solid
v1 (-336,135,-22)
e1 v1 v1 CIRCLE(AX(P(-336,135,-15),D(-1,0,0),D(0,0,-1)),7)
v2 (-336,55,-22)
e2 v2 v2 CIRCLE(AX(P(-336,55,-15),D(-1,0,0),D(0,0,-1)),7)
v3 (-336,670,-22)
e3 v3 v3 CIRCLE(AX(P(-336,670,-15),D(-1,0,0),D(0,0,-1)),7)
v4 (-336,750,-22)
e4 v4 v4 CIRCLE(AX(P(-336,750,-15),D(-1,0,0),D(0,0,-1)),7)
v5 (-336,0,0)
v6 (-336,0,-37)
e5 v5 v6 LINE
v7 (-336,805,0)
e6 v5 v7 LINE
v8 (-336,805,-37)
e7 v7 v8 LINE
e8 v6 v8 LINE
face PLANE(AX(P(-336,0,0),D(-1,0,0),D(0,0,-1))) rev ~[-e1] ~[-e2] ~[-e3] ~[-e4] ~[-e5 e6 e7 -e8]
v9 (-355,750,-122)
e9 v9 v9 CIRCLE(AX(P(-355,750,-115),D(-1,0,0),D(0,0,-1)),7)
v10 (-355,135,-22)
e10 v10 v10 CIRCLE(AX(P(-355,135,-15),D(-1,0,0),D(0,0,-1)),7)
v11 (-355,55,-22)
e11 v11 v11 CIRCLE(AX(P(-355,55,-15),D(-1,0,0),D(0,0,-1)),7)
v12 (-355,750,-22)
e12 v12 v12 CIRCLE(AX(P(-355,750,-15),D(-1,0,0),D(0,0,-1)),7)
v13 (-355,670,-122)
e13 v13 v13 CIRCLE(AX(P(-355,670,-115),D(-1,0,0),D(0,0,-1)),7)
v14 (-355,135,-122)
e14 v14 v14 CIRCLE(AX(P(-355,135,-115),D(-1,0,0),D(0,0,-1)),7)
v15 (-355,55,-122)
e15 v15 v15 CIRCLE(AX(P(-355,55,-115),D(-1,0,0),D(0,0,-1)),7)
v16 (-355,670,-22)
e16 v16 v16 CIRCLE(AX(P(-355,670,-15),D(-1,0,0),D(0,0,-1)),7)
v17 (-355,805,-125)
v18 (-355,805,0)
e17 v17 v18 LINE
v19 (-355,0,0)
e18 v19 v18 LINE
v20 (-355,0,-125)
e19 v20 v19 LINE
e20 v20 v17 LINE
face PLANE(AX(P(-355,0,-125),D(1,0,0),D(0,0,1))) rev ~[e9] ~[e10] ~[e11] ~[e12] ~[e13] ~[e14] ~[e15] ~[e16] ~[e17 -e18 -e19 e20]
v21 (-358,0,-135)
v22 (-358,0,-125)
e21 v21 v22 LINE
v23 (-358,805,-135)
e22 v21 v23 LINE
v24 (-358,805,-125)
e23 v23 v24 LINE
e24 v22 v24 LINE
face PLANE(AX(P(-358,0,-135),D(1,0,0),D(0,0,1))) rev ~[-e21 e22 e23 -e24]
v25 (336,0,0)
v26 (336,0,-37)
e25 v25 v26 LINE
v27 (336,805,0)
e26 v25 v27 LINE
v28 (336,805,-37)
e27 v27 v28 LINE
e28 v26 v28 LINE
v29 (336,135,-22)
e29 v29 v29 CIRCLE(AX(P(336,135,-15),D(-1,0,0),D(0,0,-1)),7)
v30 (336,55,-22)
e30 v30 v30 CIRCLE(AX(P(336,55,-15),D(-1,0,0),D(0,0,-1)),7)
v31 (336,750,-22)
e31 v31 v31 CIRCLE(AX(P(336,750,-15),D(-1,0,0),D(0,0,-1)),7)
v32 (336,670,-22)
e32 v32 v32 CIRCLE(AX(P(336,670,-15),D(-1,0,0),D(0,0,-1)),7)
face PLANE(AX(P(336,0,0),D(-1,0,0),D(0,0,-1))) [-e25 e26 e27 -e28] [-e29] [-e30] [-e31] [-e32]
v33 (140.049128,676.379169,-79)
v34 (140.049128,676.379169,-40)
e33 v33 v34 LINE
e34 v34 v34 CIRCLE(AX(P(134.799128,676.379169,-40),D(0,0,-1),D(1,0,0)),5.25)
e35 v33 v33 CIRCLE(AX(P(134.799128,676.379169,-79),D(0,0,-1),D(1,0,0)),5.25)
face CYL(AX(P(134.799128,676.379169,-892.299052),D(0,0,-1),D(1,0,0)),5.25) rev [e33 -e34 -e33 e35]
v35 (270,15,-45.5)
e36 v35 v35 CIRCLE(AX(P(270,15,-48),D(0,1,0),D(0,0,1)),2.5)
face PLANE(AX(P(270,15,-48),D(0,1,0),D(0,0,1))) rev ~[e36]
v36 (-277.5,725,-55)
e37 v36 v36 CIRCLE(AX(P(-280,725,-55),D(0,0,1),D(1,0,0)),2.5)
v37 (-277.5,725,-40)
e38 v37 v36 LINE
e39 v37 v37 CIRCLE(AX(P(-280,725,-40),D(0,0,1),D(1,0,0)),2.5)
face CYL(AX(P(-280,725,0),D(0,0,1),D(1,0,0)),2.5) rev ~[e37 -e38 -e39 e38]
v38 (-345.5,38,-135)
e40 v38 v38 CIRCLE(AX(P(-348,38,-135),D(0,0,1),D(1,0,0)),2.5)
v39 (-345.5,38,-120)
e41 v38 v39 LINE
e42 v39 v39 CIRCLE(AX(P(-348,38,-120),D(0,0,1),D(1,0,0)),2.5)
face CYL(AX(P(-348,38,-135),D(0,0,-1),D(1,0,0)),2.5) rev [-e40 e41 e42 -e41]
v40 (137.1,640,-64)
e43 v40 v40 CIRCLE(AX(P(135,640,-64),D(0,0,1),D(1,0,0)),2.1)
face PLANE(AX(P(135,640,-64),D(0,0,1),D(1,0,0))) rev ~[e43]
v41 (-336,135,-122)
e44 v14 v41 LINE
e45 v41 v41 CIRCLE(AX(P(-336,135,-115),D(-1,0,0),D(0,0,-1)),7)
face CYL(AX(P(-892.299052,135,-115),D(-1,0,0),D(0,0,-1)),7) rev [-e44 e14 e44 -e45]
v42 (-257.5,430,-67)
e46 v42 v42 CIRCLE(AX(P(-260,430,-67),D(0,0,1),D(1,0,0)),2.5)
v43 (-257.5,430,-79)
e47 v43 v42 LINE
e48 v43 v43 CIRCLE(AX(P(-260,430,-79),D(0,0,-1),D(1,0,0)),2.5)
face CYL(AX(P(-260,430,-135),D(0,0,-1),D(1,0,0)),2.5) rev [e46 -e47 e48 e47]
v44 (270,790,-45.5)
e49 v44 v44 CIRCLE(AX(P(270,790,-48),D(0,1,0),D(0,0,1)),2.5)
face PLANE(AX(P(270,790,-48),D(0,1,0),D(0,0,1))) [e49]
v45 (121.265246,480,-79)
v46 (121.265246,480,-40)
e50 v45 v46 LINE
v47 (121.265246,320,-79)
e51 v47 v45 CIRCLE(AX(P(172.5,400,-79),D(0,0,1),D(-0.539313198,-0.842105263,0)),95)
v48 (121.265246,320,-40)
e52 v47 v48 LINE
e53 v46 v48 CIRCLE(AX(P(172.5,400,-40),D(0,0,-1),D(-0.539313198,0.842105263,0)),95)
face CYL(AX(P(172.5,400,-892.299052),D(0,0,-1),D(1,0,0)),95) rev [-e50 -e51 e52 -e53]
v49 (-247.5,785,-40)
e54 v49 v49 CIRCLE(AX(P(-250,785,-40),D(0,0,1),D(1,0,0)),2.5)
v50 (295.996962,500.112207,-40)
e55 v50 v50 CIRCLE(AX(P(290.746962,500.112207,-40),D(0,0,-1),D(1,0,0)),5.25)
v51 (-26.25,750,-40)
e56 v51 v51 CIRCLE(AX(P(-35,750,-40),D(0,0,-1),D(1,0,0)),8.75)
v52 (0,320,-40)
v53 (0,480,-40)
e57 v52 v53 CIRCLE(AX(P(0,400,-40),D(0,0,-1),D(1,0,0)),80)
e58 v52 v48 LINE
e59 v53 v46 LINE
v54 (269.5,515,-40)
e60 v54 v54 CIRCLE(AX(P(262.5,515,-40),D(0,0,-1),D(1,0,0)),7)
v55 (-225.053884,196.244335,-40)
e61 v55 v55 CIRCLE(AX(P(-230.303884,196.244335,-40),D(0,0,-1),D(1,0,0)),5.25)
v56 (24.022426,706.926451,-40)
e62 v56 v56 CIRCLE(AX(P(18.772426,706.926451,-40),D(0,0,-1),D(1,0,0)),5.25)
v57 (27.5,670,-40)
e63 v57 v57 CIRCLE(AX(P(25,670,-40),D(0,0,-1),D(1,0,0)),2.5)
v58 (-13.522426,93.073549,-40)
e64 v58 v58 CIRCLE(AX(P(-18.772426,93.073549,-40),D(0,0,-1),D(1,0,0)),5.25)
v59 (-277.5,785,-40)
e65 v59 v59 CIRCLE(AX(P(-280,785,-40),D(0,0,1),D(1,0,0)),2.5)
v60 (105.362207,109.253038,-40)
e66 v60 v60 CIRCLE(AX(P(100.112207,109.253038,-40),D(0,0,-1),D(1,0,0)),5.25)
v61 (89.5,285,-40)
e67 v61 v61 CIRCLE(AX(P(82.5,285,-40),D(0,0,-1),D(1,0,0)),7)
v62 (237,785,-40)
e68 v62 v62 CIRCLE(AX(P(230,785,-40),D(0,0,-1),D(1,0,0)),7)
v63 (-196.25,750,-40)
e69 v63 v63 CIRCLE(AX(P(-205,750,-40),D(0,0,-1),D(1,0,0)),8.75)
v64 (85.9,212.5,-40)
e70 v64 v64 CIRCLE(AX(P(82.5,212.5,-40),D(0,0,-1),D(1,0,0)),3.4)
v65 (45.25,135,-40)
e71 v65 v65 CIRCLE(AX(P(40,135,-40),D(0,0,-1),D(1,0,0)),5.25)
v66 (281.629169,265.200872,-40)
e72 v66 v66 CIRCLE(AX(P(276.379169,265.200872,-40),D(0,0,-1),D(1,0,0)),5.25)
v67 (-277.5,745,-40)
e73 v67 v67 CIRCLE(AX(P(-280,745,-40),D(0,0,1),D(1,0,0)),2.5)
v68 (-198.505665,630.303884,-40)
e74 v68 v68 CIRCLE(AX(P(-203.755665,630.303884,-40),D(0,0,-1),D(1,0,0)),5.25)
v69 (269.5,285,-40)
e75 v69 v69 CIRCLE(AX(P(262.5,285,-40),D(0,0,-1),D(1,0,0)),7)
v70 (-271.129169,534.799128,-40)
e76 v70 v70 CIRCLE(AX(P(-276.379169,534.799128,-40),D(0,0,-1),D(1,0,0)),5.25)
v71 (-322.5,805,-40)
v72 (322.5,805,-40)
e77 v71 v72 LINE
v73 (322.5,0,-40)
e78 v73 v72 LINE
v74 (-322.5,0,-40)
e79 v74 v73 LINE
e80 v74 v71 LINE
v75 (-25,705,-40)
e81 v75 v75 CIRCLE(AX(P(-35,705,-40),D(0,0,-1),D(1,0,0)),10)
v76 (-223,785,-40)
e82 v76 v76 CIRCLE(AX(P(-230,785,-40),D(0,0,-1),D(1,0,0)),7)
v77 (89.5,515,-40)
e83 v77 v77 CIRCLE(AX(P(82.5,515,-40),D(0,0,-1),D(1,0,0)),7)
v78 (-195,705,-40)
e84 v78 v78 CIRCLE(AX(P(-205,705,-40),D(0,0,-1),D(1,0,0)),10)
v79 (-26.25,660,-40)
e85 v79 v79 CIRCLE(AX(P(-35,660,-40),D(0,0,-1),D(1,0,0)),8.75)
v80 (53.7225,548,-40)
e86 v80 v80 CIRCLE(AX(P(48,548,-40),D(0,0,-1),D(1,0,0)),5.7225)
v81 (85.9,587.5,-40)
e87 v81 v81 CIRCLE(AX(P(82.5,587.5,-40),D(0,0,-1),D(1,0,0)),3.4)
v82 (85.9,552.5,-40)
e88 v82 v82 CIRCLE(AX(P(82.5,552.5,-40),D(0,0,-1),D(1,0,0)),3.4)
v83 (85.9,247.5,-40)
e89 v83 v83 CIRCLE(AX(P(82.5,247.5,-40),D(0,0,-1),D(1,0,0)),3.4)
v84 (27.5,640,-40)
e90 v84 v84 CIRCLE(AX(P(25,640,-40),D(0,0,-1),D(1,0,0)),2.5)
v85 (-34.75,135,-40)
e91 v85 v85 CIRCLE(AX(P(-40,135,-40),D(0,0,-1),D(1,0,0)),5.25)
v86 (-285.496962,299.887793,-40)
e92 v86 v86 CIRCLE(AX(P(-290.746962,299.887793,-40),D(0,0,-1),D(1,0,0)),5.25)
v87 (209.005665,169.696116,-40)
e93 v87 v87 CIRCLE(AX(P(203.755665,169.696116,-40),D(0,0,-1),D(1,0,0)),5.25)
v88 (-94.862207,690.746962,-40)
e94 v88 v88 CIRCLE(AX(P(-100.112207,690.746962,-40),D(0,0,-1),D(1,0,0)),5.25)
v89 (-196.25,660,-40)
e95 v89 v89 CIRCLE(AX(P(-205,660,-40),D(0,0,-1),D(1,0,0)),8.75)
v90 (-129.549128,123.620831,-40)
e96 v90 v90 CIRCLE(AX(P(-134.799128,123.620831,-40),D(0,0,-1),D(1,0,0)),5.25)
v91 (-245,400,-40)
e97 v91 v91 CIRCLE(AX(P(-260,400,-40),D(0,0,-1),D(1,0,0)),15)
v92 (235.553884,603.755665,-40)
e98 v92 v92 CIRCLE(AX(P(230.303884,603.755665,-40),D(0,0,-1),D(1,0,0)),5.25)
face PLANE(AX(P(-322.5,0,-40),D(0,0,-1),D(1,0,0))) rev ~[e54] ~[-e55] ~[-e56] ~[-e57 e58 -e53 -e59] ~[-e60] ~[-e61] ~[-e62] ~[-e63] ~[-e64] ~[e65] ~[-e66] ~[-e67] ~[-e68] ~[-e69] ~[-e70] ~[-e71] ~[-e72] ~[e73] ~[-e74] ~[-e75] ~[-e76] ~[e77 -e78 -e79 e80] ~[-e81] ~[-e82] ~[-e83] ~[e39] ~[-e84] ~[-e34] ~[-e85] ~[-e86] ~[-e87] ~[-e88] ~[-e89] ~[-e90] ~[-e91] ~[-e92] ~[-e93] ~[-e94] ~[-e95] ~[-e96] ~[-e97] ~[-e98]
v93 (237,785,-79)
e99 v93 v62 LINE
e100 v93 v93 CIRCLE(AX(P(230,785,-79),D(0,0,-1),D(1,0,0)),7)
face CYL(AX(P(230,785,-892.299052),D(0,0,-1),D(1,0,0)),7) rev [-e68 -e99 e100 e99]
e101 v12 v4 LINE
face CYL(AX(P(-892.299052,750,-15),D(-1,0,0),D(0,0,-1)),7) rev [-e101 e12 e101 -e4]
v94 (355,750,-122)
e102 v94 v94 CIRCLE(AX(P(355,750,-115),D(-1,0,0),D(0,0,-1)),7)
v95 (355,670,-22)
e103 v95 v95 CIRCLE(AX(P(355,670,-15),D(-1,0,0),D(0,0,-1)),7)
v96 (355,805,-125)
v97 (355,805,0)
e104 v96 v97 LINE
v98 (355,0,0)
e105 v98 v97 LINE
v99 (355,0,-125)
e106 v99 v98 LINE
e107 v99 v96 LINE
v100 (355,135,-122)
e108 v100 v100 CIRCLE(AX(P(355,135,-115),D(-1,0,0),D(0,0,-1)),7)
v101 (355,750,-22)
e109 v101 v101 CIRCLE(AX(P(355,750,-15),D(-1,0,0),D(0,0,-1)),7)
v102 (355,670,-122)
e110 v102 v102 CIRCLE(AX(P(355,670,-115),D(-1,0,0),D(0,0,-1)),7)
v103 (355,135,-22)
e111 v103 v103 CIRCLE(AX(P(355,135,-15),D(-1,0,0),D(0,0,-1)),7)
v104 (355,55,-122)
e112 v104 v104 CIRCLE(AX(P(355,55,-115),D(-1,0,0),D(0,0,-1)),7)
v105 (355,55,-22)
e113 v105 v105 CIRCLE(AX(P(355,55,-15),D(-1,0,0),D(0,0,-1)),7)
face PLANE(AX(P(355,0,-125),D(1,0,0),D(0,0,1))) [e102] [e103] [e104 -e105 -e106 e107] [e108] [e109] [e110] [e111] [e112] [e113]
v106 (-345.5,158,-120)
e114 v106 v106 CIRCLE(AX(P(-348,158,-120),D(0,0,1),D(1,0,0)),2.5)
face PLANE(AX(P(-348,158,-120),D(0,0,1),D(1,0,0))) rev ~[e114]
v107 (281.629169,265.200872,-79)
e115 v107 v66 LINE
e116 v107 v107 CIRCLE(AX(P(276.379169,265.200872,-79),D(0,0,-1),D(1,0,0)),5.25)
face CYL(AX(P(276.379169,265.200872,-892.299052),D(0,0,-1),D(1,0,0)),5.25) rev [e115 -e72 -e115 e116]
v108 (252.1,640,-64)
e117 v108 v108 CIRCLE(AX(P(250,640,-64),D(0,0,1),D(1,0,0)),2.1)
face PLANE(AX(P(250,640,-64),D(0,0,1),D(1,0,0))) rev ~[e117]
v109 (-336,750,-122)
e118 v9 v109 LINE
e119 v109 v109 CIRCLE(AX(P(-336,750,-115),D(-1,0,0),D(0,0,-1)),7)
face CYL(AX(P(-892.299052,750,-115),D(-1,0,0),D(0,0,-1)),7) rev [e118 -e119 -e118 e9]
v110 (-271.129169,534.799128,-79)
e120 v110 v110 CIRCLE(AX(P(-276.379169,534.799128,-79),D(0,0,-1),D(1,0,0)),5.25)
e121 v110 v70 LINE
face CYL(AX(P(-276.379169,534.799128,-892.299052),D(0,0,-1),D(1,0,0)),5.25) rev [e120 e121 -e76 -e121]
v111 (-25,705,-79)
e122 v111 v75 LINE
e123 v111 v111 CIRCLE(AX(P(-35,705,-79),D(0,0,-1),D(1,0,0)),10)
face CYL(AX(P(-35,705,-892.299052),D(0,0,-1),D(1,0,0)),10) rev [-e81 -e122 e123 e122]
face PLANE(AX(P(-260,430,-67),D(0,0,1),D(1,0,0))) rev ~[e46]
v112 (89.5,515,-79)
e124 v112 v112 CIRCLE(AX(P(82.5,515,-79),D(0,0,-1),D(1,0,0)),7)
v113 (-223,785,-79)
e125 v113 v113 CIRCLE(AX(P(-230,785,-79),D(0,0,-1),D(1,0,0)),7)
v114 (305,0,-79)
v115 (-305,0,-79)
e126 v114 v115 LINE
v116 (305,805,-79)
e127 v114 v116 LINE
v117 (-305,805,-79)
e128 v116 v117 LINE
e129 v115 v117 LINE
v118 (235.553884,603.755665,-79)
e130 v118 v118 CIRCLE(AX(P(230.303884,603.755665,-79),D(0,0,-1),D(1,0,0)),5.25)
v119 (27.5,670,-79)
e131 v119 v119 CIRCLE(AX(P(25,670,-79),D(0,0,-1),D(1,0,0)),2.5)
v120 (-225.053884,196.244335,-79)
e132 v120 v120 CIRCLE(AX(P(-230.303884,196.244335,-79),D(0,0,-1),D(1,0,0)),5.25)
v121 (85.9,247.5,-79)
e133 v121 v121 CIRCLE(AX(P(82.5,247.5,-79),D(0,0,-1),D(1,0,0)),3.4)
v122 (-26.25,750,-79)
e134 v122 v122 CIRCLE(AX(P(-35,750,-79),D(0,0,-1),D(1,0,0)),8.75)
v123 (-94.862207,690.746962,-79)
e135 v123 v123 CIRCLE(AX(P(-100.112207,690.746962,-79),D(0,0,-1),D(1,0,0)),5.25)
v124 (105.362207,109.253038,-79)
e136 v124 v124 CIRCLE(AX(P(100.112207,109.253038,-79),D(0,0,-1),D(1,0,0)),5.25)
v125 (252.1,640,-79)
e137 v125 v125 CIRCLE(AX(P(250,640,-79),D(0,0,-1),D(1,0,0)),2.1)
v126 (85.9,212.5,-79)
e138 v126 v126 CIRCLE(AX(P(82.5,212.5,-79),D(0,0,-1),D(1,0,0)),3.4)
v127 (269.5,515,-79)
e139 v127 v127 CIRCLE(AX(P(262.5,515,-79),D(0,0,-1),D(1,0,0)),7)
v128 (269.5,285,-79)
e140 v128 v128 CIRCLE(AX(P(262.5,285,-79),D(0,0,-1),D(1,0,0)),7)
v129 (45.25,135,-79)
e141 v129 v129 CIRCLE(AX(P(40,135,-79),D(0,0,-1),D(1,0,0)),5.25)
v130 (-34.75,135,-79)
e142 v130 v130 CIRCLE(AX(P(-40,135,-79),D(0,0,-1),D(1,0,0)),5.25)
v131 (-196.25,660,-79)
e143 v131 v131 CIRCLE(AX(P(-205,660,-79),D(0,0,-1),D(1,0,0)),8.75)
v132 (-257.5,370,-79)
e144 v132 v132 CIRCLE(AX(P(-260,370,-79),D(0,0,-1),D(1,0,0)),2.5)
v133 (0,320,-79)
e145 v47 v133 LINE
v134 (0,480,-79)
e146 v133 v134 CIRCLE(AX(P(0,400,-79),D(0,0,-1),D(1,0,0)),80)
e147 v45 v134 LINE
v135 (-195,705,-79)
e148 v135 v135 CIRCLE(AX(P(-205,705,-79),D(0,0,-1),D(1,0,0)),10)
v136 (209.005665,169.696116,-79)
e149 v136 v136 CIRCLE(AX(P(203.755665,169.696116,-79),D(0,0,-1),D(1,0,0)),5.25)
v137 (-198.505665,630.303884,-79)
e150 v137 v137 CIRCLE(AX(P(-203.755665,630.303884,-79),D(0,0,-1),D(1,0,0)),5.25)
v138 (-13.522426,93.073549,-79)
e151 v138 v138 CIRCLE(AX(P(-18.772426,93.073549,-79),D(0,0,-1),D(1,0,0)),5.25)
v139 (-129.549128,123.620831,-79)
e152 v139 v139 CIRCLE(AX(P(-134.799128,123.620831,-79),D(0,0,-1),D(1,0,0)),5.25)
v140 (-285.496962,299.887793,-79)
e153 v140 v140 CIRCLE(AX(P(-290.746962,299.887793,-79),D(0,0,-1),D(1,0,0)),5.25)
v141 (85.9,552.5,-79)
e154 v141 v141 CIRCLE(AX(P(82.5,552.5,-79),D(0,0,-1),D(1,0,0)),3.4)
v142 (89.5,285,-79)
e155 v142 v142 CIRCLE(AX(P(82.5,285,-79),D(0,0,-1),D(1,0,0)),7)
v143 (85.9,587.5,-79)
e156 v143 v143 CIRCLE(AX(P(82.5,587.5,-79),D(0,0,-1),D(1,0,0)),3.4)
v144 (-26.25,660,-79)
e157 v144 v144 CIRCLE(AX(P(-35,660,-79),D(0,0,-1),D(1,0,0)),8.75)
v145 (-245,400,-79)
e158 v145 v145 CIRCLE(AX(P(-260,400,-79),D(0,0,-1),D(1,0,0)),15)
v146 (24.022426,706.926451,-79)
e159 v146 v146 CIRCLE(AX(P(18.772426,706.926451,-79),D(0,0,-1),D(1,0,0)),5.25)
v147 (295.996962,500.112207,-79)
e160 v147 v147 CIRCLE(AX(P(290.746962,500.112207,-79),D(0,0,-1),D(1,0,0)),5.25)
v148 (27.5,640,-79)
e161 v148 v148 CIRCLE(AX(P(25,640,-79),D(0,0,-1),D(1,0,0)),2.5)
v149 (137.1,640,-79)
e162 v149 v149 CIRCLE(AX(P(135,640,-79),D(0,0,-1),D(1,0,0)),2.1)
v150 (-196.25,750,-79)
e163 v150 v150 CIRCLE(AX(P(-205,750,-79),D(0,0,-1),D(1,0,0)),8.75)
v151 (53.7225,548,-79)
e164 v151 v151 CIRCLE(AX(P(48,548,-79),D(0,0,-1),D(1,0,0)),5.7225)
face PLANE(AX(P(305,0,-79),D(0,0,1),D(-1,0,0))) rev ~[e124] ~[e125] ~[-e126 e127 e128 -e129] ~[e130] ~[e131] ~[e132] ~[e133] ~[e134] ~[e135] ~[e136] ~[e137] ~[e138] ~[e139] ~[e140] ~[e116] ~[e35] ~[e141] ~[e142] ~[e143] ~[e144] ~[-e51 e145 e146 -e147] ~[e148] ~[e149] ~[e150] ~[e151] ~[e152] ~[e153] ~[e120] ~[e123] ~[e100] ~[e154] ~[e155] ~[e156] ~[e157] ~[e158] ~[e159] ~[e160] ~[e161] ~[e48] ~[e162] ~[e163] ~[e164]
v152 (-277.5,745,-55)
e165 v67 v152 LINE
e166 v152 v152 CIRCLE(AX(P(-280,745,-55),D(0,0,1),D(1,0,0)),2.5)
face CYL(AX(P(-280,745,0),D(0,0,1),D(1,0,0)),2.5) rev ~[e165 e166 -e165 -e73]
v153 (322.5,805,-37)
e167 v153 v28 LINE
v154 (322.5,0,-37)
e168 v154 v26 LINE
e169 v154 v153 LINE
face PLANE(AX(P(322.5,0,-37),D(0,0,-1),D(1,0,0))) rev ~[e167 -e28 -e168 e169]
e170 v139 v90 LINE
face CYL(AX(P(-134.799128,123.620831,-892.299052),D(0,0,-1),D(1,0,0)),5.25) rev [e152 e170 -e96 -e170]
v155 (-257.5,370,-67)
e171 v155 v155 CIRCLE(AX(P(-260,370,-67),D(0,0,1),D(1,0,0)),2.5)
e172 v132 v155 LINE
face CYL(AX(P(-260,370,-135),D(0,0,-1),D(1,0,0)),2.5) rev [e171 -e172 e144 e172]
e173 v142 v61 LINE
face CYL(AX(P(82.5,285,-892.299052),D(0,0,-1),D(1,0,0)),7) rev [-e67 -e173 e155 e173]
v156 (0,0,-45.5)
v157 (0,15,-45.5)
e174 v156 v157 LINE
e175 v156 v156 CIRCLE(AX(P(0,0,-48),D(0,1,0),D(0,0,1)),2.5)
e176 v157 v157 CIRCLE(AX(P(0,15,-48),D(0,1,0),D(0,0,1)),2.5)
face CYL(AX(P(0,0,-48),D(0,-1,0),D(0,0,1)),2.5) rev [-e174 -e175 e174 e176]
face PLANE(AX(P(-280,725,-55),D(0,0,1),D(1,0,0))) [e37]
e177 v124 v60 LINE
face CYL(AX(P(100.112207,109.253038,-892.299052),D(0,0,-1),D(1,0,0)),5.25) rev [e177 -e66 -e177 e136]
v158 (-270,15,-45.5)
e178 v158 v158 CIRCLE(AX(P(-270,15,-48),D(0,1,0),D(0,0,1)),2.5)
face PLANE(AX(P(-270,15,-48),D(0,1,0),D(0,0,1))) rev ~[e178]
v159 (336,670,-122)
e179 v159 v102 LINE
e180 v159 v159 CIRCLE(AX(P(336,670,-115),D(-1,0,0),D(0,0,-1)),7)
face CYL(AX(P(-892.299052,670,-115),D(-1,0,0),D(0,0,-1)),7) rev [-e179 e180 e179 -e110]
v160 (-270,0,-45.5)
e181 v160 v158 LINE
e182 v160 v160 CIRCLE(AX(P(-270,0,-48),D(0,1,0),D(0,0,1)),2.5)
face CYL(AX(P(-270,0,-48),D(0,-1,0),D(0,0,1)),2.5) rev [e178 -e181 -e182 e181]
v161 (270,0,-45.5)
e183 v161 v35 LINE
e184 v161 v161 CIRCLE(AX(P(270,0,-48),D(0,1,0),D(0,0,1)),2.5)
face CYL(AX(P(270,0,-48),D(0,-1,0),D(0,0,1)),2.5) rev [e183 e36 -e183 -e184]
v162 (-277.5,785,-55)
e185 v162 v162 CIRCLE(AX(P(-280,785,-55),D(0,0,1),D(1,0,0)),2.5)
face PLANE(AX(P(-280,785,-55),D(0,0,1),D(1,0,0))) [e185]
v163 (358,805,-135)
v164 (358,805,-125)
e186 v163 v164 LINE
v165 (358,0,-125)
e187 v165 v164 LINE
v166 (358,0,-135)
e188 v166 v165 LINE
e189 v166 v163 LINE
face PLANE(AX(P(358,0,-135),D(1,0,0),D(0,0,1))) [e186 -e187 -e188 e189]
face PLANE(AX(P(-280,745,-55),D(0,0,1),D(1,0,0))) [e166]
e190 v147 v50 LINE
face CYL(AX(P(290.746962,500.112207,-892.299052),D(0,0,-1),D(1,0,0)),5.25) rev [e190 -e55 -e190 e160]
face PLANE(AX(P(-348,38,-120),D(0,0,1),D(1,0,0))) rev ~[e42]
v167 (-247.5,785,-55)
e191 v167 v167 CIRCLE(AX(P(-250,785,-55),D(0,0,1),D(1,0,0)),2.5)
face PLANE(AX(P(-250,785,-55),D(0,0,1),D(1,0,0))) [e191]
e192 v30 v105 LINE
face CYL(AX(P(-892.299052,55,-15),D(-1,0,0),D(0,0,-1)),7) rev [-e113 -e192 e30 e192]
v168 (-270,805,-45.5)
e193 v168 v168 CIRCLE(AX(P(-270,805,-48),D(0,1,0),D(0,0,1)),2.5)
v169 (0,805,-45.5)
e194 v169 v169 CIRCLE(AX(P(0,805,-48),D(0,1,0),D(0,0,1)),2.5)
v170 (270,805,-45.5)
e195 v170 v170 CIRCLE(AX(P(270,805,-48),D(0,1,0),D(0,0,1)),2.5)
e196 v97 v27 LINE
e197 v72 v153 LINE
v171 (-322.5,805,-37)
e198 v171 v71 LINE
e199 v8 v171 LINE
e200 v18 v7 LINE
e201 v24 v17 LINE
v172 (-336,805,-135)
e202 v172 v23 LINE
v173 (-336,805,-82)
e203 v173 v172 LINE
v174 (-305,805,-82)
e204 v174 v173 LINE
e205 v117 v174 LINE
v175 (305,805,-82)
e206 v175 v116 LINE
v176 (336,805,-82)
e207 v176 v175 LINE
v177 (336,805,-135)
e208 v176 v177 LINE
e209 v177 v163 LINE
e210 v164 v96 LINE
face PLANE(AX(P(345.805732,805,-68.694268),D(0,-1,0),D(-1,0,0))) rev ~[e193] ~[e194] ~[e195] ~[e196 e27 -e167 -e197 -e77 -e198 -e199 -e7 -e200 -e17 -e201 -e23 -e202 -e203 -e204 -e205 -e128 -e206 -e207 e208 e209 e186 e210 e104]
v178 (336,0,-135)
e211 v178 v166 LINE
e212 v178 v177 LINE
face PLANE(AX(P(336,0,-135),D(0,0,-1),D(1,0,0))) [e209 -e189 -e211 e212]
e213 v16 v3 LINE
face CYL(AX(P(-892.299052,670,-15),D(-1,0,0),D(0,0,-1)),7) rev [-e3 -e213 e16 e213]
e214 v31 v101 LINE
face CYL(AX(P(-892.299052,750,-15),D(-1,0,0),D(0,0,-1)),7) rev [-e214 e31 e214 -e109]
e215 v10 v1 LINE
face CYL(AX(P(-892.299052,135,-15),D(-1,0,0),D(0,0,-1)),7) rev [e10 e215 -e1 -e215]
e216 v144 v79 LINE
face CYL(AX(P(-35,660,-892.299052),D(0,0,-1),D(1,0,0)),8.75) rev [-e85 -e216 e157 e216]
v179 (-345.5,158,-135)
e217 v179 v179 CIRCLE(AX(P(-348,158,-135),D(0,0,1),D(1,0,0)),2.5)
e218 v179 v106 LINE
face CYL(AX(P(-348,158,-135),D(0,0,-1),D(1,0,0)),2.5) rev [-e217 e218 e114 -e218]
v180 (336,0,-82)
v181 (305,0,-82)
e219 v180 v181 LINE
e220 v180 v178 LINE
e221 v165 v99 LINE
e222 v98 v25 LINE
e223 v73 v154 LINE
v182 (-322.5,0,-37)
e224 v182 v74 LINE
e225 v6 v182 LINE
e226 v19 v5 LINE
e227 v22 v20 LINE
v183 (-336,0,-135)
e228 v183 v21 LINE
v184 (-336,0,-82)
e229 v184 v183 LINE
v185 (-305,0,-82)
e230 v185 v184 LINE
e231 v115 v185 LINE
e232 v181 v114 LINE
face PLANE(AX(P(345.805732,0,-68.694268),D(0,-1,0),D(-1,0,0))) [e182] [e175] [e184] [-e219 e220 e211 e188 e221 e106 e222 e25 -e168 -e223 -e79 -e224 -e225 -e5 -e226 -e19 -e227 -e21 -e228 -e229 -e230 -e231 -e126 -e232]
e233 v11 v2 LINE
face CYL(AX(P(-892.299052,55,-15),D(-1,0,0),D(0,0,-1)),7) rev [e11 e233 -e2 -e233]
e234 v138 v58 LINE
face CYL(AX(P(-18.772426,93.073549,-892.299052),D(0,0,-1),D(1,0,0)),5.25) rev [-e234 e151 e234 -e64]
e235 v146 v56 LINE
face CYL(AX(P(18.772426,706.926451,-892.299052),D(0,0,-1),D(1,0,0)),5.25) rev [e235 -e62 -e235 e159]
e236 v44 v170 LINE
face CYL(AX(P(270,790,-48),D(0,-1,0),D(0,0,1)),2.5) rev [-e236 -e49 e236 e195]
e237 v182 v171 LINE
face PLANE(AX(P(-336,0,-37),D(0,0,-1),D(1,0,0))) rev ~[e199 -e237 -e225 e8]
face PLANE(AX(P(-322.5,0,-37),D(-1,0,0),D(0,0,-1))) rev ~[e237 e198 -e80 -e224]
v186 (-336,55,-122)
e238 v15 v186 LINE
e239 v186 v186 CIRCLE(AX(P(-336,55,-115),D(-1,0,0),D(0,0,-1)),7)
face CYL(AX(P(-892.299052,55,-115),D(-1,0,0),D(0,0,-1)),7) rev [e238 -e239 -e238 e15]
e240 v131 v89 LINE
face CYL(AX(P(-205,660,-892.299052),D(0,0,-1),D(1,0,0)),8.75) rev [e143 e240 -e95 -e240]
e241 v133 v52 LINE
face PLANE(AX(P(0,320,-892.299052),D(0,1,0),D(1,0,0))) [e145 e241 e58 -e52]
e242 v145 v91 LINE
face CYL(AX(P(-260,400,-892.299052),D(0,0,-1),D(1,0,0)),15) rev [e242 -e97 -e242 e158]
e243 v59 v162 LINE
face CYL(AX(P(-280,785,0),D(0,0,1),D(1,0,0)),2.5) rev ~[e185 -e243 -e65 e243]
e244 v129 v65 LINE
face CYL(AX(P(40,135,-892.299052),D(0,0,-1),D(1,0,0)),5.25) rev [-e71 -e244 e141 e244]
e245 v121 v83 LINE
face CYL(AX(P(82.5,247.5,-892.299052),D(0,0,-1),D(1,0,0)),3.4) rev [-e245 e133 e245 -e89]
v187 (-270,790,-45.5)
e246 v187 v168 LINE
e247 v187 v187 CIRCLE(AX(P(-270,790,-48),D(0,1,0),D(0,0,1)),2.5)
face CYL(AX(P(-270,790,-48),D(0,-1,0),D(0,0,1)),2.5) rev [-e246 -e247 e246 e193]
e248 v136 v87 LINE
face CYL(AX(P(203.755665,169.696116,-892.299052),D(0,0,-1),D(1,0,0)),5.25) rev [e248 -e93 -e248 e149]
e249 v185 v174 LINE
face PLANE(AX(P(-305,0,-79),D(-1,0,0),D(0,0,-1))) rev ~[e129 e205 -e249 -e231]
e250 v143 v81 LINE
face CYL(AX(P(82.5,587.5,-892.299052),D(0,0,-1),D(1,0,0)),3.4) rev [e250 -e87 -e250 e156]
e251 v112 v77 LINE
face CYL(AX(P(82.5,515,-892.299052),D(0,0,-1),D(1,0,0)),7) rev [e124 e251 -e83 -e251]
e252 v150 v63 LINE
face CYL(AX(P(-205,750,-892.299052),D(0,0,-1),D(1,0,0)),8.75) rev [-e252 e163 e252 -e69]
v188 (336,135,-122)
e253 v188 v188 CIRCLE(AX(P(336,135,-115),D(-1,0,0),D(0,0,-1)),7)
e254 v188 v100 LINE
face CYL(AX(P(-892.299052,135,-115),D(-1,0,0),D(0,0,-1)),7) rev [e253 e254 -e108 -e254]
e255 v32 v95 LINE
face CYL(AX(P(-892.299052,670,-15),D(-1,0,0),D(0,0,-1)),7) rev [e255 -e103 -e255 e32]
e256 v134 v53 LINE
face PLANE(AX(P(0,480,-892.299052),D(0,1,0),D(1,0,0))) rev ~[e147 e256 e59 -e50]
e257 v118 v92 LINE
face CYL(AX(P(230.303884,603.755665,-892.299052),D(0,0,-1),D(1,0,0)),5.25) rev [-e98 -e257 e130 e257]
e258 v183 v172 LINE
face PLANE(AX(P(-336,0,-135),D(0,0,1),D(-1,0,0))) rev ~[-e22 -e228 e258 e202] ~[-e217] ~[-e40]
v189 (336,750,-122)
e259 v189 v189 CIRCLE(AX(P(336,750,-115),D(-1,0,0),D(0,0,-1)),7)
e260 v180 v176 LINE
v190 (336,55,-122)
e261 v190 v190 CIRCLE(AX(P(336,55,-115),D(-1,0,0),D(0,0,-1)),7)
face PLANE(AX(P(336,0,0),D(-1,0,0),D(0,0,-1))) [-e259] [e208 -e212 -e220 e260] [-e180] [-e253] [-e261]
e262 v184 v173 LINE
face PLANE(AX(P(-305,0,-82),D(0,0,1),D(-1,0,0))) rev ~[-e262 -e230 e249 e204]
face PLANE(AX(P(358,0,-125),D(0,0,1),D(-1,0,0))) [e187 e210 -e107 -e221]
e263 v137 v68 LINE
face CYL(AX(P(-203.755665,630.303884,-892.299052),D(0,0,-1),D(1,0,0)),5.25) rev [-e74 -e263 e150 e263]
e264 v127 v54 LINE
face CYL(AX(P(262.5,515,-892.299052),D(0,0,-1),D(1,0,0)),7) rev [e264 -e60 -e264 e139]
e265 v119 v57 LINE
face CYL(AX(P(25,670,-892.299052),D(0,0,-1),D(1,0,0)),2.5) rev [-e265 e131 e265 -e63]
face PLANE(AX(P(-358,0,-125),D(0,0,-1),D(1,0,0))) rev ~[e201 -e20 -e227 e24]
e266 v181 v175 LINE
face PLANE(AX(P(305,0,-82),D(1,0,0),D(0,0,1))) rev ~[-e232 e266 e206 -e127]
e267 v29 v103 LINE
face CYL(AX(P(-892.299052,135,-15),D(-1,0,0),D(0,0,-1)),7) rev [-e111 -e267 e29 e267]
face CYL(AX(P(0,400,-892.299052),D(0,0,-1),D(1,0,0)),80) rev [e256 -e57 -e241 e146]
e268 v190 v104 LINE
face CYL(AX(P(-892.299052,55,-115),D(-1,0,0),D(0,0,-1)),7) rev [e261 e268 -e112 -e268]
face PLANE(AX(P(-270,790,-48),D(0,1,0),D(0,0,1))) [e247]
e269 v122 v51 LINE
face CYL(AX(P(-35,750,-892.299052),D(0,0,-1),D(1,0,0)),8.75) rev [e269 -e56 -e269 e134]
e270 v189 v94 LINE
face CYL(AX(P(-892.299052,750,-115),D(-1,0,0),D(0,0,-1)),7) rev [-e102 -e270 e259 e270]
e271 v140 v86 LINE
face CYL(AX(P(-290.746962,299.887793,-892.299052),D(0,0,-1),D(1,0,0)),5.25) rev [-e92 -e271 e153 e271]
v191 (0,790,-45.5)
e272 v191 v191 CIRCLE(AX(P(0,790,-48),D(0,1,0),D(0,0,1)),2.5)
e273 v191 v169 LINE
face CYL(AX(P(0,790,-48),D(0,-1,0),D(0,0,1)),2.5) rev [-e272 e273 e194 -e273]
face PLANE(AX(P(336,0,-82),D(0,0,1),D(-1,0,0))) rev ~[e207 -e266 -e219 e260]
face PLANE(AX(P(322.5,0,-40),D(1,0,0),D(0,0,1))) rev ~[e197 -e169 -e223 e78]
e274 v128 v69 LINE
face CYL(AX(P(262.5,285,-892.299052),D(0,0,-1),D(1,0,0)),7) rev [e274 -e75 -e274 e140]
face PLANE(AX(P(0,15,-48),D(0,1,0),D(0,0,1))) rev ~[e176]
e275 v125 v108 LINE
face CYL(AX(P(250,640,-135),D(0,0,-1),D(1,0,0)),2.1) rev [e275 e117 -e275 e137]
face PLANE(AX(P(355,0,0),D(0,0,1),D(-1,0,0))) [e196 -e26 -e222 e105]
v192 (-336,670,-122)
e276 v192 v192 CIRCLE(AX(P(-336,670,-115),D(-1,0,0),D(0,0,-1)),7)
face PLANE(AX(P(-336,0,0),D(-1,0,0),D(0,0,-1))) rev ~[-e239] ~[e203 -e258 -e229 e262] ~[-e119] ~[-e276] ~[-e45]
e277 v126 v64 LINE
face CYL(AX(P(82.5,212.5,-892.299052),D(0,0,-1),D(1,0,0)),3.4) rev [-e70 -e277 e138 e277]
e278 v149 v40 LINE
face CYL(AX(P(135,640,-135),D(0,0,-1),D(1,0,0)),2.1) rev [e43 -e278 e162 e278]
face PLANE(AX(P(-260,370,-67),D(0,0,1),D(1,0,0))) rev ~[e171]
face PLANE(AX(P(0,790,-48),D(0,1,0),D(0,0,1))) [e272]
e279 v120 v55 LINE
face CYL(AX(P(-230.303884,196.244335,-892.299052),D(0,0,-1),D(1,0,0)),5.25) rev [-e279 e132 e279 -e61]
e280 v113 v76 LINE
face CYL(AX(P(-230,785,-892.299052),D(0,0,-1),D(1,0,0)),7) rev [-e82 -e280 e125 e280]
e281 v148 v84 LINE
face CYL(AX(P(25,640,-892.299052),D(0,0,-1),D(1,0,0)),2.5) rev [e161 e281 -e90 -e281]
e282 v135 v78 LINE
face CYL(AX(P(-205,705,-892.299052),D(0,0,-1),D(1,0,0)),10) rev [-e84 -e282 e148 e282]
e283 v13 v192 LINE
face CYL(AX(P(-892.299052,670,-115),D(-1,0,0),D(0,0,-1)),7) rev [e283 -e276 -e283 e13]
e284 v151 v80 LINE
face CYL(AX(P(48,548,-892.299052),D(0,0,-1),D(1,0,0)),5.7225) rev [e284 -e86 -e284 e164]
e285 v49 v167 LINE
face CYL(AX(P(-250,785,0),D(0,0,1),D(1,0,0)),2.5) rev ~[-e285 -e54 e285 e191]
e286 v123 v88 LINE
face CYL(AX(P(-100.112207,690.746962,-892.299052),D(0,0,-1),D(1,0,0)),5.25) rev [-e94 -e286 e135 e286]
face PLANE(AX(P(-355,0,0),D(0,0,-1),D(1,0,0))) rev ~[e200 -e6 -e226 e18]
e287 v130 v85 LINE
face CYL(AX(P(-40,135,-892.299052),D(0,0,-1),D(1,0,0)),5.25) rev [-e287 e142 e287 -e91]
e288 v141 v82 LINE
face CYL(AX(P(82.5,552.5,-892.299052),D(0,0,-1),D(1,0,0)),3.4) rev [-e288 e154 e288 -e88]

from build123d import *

# Parameters (mm, degrees)
EXTRUDE_1_DEPTH           = 805
EXTRUDE_2_DEPTH           = 805
EXTRUDE_3_DEPTH           = 805
CUT_EXTRUDE_1_DEPTH       = 892.299051946
CUT_EXTRUDE_1_DEPTH_BACK  = 892.299051946
SKETCH_4_W                = 121.26524617
SKETCH_4_H                = 160
CUT_EXTRUDE_2_DEPTH       = 892.299051946
CUT_EXTRUDE_2_DEPTH_BACK  = 892.299051946
SKETCH_5_R                = 80
CUT_EXTRUDE_3_DEPTH       = 892.299051946
CUT_EXTRUDE_3_DEPTH_BACK  = 892.299051946
SKETCH_6_R                = 95
CUT_EXTRUDE_4_DEPTH       = 892.299051946
CUT_EXTRUDE_4_DEPTH_BACK  = 892.299051946
SKETCH_7_R                = 15
CUT_EXTRUDE_5_DEPTH       = 892.299051946
CUT_EXTRUDE_5_DEPTH_BACK  = 892.299051946
SKETCH_8_R                = 5.25
CUT_EXTRUDE_6_DEPTH       = 892.299051946
CUT_EXTRUDE_6_DEPTH_BACK  = 892.299051946
SKETCH_9_R                = 8.75
CUT_EXTRUDE_7_DEPTH       = 892.299051946
CUT_EXTRUDE_7_DEPTH_BACK  = 892.299051946
SKETCH_10_R               = 10
CUT_EXTRUDE_8_DEPTH       = 892.299051946
CUT_EXTRUDE_8_DEPTH_BACK  = 892.299051946
SKETCH_11_R               = 7
CUT_EXTRUDE_9_DEPTH       = 892.299051946
CUT_EXTRUDE_9_DEPTH_BACK  = 892.299051946
SKETCH_12_R               = 3.4
CUT_EXTRUDE_10_DEPTH      = 892.299051946
CUT_EXTRUDE_10_DEPTH_BACK = 892.299051946
SKETCH_13_R               = 5.25
CUT_EXTRUDE_11_DEPTH      = 892.299051946
CUT_EXTRUDE_11_DEPTH_BACK = 892.299051946
SKETCH_14_R               = 2.5
CUT_EXTRUDE_12_DEPTH      = 892.299051946
CUT_EXTRUDE_12_DEPTH_BACK = 892.299051946
SKETCH_15_R               = 5.7225
CUT_EXTRUDE_13_DEPTH      = 892.299051946
CUT_EXTRUDE_13_DEPTH_BACK = 892.299051946
SKETCH_16_R               = 7
CUT_EXTRUDE_14_DEPTH      = 892.299051946
CUT_EXTRUDE_14_DEPTH_BACK = 892.299051946
SKETCH_17_R               = 7
SKETCH_19_R               = 2.5
CUT_EXTRUDE_16_DEPTH      = 15
SKETCH_20_R               = 2.5
CUT_EXTRUDE_17_DEPTH      = 55
CUT_EXTRUDE_START         = -15
SKETCH_21_R               = 2.5
CUT_EXTRUDE_18_DEPTH      = 15
SKETCH_23_R               = 2.5
CUT_EXTRUDE_20_DEPTH      = 15
SKETCH_25_R               = 2.5
CUT_EXTRUDE_22_DEPTH      = 68
SKETCH_27_R               = 2.1
CUT_EXTRUDE_24_DEPTH      = 71


with BuildPart() as part:
    # ｽｹｯﾁ1 → ﾎﾞｽ - 押し出し1 (new body)
    with BuildSketch(Plane(origin=(0, 0, 0), x_dir=(1, 0, 0), z_dir=(0, 1, 0))):
        Polygon((-336, 37), (-322.5, 37), (-322.5, 40), (322.5, 40), (322.5, 37), (336, 37), (336, 82), (305, 82), (305, 79), (-305, 79), (-305, 82), (-336, 82), align=None)
    extrude(amount=EXTRUDE_1_DEPTH)

    # ｽｹｯﾁ2 → ﾎﾞｽ - 押し出し2 (add)
    with BuildSketch(Plane(origin=(0, 0, 0), x_dir=(1, 0, 0), z_dir=(0, 1, 0))):
        Polygon((-355, 0), (-336, 0), (-336, 135), (-358, 135), (-358, 125), (-355, 125), align=None)
    extrude(amount=EXTRUDE_2_DEPTH)

    # ｽｹｯﾁ3 → ﾎﾞｽ - 押し出し3 (add)
    with BuildSketch(Plane(origin=(0, 0, 0), x_dir=(1, 0, 0), z_dir=(0, 1, 0))):
        Polygon((355, 0), (336, 0), (336, 135), (358, 135), (358, 125), (355, 125), align=None)
    extrude(amount=EXTRUDE_3_DEPTH)

    # ｽｹｯﾁ4 → ｶｯﾄ - 押し出し1 (cut, two sides: drawn at the far end of the back side and taken through both)
    with BuildSketch(Plane.XY.offset(-CUT_EXTRUDE_1_DEPTH_BACK)):
        with Locations((60.632623085, 400)):
            Rectangle(SKETCH_4_W, SKETCH_4_H)
    extrude(amount=CUT_EXTRUDE_1_DEPTH + CUT_EXTRUDE_1_DEPTH_BACK, mode=Mode.SUBTRACT)

    # ｽｹｯﾁ5 → ｶｯﾄ - 押し出し2 (cut, two sides: drawn at the far end of the back side and taken through both)
    with BuildSketch(Plane.XY.offset(-CUT_EXTRUDE_2_DEPTH_BACK)):
        with Locations((0, 400)):
            Circle(SKETCH_5_R)
    extrude(amount=CUT_EXTRUDE_2_DEPTH + CUT_EXTRUDE_2_DEPTH_BACK, mode=Mode.SUBTRACT)

    # ｽｹｯﾁ6 → ｶｯﾄ - 押し出し3 (cut, two sides: drawn at the far end of the back side and taken through both)
    with BuildSketch(Plane.XY.offset(-CUT_EXTRUDE_3_DEPTH_BACK)):
        with Locations((172.5, 400)):
            Circle(SKETCH_6_R)
    extrude(amount=CUT_EXTRUDE_3_DEPTH + CUT_EXTRUDE_3_DEPTH_BACK, mode=Mode.SUBTRACT)

    # ｽｹｯﾁ7 → ｶｯﾄ - 押し出し4 (cut, two sides: drawn at the far end of the back side and taken through both)
    with BuildSketch(Plane.XY.offset(-CUT_EXTRUDE_4_DEPTH_BACK)):
        with Locations((-260, 400)):
            Circle(SKETCH_7_R)
    extrude(amount=CUT_EXTRUDE_4_DEPTH + CUT_EXTRUDE_4_DEPTH_BACK, mode=Mode.SUBTRACT)

    # ｽｹｯﾁ8 → ｶｯﾄ - 押し出し5 (cut, two sides: drawn at the far end of the back side and taken through both)
    with BuildSketch(Plane.XY.offset(-CUT_EXTRUDE_5_DEPTH_BACK)):
        with Locations((290.746961997, 500.112207496)):
            Circle(SKETCH_8_R)
        with Locations((230.303884143, 603.755664826)):
            Circle(SKETCH_8_R)
        with Locations((134.799127638, 676.379169237)):
            Circle(SKETCH_8_R)
        with Locations((18.772425907, 706.926450515)):
            Circle(SKETCH_8_R)
        with Locations((-100.112207496, 690.746961997)):
            Circle(SKETCH_8_R)
        with Locations((-203.755664826, 630.303884143)):
            Circle(SKETCH_8_R)
        with Locations((-276.379169237, 534.799127638)):
            Circle(SKETCH_8_R)
        with Locations((-290.746961997, 299.887792504)):
            Circle(SKETCH_8_R)
        with Locations((-230.303884143, 196.244335174)):
            Circle(SKETCH_8_R)
        with Locations((-134.799127638, 123.620830763)):
            Circle(SKETCH_8_R)
        with Locations((-18.772425907, 93.073549485)):
            Circle(SKETCH_8_R)
        with Locations((100.112207496, 109.253038003)):
            Circle(SKETCH_8_R)
        with Locations((203.755664826, 169.696115857)):
            Circle(SKETCH_8_R)
        with Locations((276.379169237, 265.200872362)):
            Circle(SKETCH_8_R)
    extrude(amount=CUT_EXTRUDE_5_DEPTH + CUT_EXTRUDE_5_DEPTH_BACK, mode=Mode.SUBTRACT)

    # ｽｹｯﾁ9 → ｶｯﾄ - 押し出し6 (cut, two sides: drawn at the far end of the back side and taken through both)
    with BuildSketch(Plane.XY.offset(-CUT_EXTRUDE_6_DEPTH_BACK)):
        with Locations((-205, 660)):
            Circle(SKETCH_9_R)
        with Locations((-205, 750)):
            Circle(SKETCH_9_R)
        with Locations((-35, 660)):
            Circle(SKETCH_9_R)
        with Locations((-35, 750)):
            Circle(SKETCH_9_R)
    extrude(amount=CUT_EXTRUDE_6_DEPTH + CUT_EXTRUDE_6_DEPTH_BACK, mode=Mode.SUBTRACT)

    # ｽｹｯﾁ10 → ｶｯﾄ - 押し出し7 (cut, two sides: drawn at the far end of the back side and taken through both)
    with BuildSketch(Plane.XY.offset(-CUT_EXTRUDE_7_DEPTH_BACK)):
        with Locations((-205, 705)):
            Circle(SKETCH_10_R)
        with Locations((-35, 705)):
            Circle(SKETCH_10_R)
    extrude(amount=CUT_EXTRUDE_7_DEPTH + CUT_EXTRUDE_7_DEPTH_BACK, mode=Mode.SUBTRACT)

    # ｽｹｯﾁ11 → ｶｯﾄ - 押し出し8 (cut, two sides: drawn at the far end of the back side and taken through both)
    with BuildSketch(Plane.XY.offset(-CUT_EXTRUDE_8_DEPTH_BACK)):
        with Locations((82.5, 285)):
            Circle(SKETCH_11_R)
        with Locations((262.5, 285)):
            Circle(SKETCH_11_R)
        with Locations((82.5, 515)):
            Circle(SKETCH_11_R)
        with Locations((262.5, 515)):
            Circle(SKETCH_11_R)
    extrude(amount=CUT_EXTRUDE_8_DEPTH + CUT_EXTRUDE_8_DEPTH_BACK, mode=Mode.SUBTRACT)

    # ｽｹｯﾁ12 → ｶｯﾄ - 押し出し9 (cut, two sides: drawn at the far end of the back side and taken through both)
    with BuildSketch(Plane.XY.offset(-CUT_EXTRUDE_9_DEPTH_BACK)):
        with Locations((82.5, 212.5)):
            Circle(SKETCH_12_R)
        with Locations((82.5, 247.5)):
            Circle(SKETCH_12_R)
        with Locations((82.5, 552.5)):
            Circle(SKETCH_12_R)
        with Locations((82.5, 587.5)):
            Circle(SKETCH_12_R)
    extrude(amount=CUT_EXTRUDE_9_DEPTH + CUT_EXTRUDE_9_DEPTH_BACK, mode=Mode.SUBTRACT)

    # ｽｹｯﾁ13 → ｶｯﾄ - 押し出し10 (cut, two sides: drawn at the far end of the back side and taken through both)
    with BuildSketch(Plane.XY.offset(-CUT_EXTRUDE_10_DEPTH_BACK)):
        with Locations((-40, 135)):
            Circle(SKETCH_13_R)
        with Locations((40, 135)):
            Circle(SKETCH_13_R)
    extrude(amount=CUT_EXTRUDE_10_DEPTH + CUT_EXTRUDE_10_DEPTH_BACK, mode=Mode.SUBTRACT)

    # ｽｹｯﾁ14 → ｶｯﾄ - 押し出し11 (cut, two sides: drawn at the far end of the back side and taken through both)
    with BuildSketch(Plane.XY.offset(-CUT_EXTRUDE_11_DEPTH_BACK)):
        with Locations((25, 640)):
            Circle(SKETCH_14_R)
        with Locations((25, 670)):
            Circle(SKETCH_14_R)
    extrude(amount=CUT_EXTRUDE_11_DEPTH + CUT_EXTRUDE_11_DEPTH_BACK, mode=Mode.SUBTRACT)

    # ｽｹｯﾁ15 → ｶｯﾄ - 押し出し12 (cut, two sides: drawn at the far end of the back side and taken through both)
    with BuildSketch(Plane.XY.offset(-CUT_EXTRUDE_12_DEPTH_BACK)):
        with Locations((48, 548)):
            Circle(SKETCH_15_R)
    extrude(amount=CUT_EXTRUDE_12_DEPTH + CUT_EXTRUDE_12_DEPTH_BACK, mode=Mode.SUBTRACT)

    # ｽｹｯﾁ16 → ｶｯﾄ - 押し出し13 (cut, two sides: drawn at the far end of the back side and taken through both)
    with BuildSketch(Plane.XY.offset(-CUT_EXTRUDE_13_DEPTH_BACK)):
        with Locations((-230, 785)):
            Circle(SKETCH_16_R)
        with Locations((230, 785)):
            Circle(SKETCH_16_R)
    extrude(amount=CUT_EXTRUDE_13_DEPTH + CUT_EXTRUDE_13_DEPTH_BACK, mode=Mode.SUBTRACT)

    # ｽｹｯﾁ17 → ｶｯﾄ - 押し出し14 (cut, two sides: drawn at the far end of the back side and taken through both)
    with BuildSketch(Plane(origin=(0, 0, 0), x_dir=(0, 0, -1), z_dir=(1, 0, 0)).offset(-CUT_EXTRUDE_14_DEPTH_BACK)):
        with Locations((15, 55)):
            Circle(SKETCH_17_R)
        with Locations((15, 135)):
            Circle(SKETCH_17_R)
        with Locations((15, 670)):
            Circle(SKETCH_17_R)
        with Locations((15, 750)):
            Circle(SKETCH_17_R)
        with Locations((115, 55)):
            Circle(SKETCH_17_R)
        with Locations((115, 135)):
            Circle(SKETCH_17_R)
        with Locations((115, 670)):
            Circle(SKETCH_17_R)
        with Locations((115, 750)):
            Circle(SKETCH_17_R)
    extrude(amount=CUT_EXTRUDE_14_DEPTH + CUT_EXTRUDE_14_DEPTH_BACK, mode=Mode.SUBTRACT)

    # ｽｹｯﾁ19 → ｶｯﾄ - 押し出し16 (cut)
    with BuildSketch(Plane(origin=(0, 0, 0), x_dir=(1, 0, 0), z_dir=(0, 1, 0))):
        with Locations(Location((-270, 48, 0), (0, 0, 270))):
            Circle(SKETCH_19_R)
        with Locations(Location((0, 48, 0), (0, 0, 270))):
            Circle(SKETCH_19_R)
        with Locations(Location((270, 48, 0), (0, 0, 270))):
            Circle(SKETCH_19_R)
    extrude(amount=CUT_EXTRUDE_16_DEPTH, mode=Mode.SUBTRACT)

    # ｽｹｯﾁ20 → ｶｯﾄ - 押し出し17 (cut)
    with BuildSketch(Plane.XY):
        with Locations((-280, 725)):
            Circle(SKETCH_20_R)
        with Locations((-280, 745)):
            Circle(SKETCH_20_R)
        with Locations((-280, 785)):
            Circle(SKETCH_20_R)
        with Locations((-250, 785)):
            Circle(SKETCH_20_R)
    extrude(amount=-CUT_EXTRUDE_17_DEPTH, mode=Mode.SUBTRACT)

    # ｽｹｯﾁ21 → ｶｯﾄ - 押し出し18 (cut)
    with BuildSketch(Plane(origin=(0, 805, 0), x_dir=(1, 0, 0), z_dir=(0, 1, 0)).offset(CUT_EXTRUDE_START)):
        with Locations(Location((-270, 48, 0), (0, 0, 270))):
            Circle(SKETCH_21_R)
        with Locations(Location((0, 48, 0), (0, 0, 270))):
            Circle(SKETCH_21_R)
        with Locations(Location((270, 48, 0), (0, 0, 270))):
            Circle(SKETCH_21_R)
    extrude(amount=CUT_EXTRUDE_18_DEPTH, mode=Mode.SUBTRACT)

    # ｽｹｯﾁ23 → ｶｯﾄ - 押し出し20 (cut)
    with BuildSketch(Plane.XY.offset(-135)):
        with Locations((-348, 38)):
            Circle(SKETCH_23_R)
        with Locations((-348, 158)):
            Circle(SKETCH_23_R)
    extrude(amount=CUT_EXTRUDE_20_DEPTH, mode=Mode.SUBTRACT)

    # ｽｹｯﾁ25 → ｶｯﾄ - 押し出し22 (cut)
    with BuildSketch(Plane.XY.offset(-135)):
        with Locations((-260, 370)):
            Circle(SKETCH_25_R)
        with Locations((-260, 430)):
            Circle(SKETCH_25_R)
    extrude(amount=CUT_EXTRUDE_22_DEPTH, mode=Mode.SUBTRACT)

    # ｽｹｯﾁ27 → ｶｯﾄ - 押し出し24 (cut)
    with BuildSketch(Plane.XY.offset(-135)):
        with Locations((135, 640)):
            Circle(SKETCH_27_R)
        with Locations((250, 640)):
            Circle(SKETCH_27_R)
    extrude(amount=CUT_EXTRUDE_24_DEPTH, mode=Mode.SUBTRACT)


solid = part.part
